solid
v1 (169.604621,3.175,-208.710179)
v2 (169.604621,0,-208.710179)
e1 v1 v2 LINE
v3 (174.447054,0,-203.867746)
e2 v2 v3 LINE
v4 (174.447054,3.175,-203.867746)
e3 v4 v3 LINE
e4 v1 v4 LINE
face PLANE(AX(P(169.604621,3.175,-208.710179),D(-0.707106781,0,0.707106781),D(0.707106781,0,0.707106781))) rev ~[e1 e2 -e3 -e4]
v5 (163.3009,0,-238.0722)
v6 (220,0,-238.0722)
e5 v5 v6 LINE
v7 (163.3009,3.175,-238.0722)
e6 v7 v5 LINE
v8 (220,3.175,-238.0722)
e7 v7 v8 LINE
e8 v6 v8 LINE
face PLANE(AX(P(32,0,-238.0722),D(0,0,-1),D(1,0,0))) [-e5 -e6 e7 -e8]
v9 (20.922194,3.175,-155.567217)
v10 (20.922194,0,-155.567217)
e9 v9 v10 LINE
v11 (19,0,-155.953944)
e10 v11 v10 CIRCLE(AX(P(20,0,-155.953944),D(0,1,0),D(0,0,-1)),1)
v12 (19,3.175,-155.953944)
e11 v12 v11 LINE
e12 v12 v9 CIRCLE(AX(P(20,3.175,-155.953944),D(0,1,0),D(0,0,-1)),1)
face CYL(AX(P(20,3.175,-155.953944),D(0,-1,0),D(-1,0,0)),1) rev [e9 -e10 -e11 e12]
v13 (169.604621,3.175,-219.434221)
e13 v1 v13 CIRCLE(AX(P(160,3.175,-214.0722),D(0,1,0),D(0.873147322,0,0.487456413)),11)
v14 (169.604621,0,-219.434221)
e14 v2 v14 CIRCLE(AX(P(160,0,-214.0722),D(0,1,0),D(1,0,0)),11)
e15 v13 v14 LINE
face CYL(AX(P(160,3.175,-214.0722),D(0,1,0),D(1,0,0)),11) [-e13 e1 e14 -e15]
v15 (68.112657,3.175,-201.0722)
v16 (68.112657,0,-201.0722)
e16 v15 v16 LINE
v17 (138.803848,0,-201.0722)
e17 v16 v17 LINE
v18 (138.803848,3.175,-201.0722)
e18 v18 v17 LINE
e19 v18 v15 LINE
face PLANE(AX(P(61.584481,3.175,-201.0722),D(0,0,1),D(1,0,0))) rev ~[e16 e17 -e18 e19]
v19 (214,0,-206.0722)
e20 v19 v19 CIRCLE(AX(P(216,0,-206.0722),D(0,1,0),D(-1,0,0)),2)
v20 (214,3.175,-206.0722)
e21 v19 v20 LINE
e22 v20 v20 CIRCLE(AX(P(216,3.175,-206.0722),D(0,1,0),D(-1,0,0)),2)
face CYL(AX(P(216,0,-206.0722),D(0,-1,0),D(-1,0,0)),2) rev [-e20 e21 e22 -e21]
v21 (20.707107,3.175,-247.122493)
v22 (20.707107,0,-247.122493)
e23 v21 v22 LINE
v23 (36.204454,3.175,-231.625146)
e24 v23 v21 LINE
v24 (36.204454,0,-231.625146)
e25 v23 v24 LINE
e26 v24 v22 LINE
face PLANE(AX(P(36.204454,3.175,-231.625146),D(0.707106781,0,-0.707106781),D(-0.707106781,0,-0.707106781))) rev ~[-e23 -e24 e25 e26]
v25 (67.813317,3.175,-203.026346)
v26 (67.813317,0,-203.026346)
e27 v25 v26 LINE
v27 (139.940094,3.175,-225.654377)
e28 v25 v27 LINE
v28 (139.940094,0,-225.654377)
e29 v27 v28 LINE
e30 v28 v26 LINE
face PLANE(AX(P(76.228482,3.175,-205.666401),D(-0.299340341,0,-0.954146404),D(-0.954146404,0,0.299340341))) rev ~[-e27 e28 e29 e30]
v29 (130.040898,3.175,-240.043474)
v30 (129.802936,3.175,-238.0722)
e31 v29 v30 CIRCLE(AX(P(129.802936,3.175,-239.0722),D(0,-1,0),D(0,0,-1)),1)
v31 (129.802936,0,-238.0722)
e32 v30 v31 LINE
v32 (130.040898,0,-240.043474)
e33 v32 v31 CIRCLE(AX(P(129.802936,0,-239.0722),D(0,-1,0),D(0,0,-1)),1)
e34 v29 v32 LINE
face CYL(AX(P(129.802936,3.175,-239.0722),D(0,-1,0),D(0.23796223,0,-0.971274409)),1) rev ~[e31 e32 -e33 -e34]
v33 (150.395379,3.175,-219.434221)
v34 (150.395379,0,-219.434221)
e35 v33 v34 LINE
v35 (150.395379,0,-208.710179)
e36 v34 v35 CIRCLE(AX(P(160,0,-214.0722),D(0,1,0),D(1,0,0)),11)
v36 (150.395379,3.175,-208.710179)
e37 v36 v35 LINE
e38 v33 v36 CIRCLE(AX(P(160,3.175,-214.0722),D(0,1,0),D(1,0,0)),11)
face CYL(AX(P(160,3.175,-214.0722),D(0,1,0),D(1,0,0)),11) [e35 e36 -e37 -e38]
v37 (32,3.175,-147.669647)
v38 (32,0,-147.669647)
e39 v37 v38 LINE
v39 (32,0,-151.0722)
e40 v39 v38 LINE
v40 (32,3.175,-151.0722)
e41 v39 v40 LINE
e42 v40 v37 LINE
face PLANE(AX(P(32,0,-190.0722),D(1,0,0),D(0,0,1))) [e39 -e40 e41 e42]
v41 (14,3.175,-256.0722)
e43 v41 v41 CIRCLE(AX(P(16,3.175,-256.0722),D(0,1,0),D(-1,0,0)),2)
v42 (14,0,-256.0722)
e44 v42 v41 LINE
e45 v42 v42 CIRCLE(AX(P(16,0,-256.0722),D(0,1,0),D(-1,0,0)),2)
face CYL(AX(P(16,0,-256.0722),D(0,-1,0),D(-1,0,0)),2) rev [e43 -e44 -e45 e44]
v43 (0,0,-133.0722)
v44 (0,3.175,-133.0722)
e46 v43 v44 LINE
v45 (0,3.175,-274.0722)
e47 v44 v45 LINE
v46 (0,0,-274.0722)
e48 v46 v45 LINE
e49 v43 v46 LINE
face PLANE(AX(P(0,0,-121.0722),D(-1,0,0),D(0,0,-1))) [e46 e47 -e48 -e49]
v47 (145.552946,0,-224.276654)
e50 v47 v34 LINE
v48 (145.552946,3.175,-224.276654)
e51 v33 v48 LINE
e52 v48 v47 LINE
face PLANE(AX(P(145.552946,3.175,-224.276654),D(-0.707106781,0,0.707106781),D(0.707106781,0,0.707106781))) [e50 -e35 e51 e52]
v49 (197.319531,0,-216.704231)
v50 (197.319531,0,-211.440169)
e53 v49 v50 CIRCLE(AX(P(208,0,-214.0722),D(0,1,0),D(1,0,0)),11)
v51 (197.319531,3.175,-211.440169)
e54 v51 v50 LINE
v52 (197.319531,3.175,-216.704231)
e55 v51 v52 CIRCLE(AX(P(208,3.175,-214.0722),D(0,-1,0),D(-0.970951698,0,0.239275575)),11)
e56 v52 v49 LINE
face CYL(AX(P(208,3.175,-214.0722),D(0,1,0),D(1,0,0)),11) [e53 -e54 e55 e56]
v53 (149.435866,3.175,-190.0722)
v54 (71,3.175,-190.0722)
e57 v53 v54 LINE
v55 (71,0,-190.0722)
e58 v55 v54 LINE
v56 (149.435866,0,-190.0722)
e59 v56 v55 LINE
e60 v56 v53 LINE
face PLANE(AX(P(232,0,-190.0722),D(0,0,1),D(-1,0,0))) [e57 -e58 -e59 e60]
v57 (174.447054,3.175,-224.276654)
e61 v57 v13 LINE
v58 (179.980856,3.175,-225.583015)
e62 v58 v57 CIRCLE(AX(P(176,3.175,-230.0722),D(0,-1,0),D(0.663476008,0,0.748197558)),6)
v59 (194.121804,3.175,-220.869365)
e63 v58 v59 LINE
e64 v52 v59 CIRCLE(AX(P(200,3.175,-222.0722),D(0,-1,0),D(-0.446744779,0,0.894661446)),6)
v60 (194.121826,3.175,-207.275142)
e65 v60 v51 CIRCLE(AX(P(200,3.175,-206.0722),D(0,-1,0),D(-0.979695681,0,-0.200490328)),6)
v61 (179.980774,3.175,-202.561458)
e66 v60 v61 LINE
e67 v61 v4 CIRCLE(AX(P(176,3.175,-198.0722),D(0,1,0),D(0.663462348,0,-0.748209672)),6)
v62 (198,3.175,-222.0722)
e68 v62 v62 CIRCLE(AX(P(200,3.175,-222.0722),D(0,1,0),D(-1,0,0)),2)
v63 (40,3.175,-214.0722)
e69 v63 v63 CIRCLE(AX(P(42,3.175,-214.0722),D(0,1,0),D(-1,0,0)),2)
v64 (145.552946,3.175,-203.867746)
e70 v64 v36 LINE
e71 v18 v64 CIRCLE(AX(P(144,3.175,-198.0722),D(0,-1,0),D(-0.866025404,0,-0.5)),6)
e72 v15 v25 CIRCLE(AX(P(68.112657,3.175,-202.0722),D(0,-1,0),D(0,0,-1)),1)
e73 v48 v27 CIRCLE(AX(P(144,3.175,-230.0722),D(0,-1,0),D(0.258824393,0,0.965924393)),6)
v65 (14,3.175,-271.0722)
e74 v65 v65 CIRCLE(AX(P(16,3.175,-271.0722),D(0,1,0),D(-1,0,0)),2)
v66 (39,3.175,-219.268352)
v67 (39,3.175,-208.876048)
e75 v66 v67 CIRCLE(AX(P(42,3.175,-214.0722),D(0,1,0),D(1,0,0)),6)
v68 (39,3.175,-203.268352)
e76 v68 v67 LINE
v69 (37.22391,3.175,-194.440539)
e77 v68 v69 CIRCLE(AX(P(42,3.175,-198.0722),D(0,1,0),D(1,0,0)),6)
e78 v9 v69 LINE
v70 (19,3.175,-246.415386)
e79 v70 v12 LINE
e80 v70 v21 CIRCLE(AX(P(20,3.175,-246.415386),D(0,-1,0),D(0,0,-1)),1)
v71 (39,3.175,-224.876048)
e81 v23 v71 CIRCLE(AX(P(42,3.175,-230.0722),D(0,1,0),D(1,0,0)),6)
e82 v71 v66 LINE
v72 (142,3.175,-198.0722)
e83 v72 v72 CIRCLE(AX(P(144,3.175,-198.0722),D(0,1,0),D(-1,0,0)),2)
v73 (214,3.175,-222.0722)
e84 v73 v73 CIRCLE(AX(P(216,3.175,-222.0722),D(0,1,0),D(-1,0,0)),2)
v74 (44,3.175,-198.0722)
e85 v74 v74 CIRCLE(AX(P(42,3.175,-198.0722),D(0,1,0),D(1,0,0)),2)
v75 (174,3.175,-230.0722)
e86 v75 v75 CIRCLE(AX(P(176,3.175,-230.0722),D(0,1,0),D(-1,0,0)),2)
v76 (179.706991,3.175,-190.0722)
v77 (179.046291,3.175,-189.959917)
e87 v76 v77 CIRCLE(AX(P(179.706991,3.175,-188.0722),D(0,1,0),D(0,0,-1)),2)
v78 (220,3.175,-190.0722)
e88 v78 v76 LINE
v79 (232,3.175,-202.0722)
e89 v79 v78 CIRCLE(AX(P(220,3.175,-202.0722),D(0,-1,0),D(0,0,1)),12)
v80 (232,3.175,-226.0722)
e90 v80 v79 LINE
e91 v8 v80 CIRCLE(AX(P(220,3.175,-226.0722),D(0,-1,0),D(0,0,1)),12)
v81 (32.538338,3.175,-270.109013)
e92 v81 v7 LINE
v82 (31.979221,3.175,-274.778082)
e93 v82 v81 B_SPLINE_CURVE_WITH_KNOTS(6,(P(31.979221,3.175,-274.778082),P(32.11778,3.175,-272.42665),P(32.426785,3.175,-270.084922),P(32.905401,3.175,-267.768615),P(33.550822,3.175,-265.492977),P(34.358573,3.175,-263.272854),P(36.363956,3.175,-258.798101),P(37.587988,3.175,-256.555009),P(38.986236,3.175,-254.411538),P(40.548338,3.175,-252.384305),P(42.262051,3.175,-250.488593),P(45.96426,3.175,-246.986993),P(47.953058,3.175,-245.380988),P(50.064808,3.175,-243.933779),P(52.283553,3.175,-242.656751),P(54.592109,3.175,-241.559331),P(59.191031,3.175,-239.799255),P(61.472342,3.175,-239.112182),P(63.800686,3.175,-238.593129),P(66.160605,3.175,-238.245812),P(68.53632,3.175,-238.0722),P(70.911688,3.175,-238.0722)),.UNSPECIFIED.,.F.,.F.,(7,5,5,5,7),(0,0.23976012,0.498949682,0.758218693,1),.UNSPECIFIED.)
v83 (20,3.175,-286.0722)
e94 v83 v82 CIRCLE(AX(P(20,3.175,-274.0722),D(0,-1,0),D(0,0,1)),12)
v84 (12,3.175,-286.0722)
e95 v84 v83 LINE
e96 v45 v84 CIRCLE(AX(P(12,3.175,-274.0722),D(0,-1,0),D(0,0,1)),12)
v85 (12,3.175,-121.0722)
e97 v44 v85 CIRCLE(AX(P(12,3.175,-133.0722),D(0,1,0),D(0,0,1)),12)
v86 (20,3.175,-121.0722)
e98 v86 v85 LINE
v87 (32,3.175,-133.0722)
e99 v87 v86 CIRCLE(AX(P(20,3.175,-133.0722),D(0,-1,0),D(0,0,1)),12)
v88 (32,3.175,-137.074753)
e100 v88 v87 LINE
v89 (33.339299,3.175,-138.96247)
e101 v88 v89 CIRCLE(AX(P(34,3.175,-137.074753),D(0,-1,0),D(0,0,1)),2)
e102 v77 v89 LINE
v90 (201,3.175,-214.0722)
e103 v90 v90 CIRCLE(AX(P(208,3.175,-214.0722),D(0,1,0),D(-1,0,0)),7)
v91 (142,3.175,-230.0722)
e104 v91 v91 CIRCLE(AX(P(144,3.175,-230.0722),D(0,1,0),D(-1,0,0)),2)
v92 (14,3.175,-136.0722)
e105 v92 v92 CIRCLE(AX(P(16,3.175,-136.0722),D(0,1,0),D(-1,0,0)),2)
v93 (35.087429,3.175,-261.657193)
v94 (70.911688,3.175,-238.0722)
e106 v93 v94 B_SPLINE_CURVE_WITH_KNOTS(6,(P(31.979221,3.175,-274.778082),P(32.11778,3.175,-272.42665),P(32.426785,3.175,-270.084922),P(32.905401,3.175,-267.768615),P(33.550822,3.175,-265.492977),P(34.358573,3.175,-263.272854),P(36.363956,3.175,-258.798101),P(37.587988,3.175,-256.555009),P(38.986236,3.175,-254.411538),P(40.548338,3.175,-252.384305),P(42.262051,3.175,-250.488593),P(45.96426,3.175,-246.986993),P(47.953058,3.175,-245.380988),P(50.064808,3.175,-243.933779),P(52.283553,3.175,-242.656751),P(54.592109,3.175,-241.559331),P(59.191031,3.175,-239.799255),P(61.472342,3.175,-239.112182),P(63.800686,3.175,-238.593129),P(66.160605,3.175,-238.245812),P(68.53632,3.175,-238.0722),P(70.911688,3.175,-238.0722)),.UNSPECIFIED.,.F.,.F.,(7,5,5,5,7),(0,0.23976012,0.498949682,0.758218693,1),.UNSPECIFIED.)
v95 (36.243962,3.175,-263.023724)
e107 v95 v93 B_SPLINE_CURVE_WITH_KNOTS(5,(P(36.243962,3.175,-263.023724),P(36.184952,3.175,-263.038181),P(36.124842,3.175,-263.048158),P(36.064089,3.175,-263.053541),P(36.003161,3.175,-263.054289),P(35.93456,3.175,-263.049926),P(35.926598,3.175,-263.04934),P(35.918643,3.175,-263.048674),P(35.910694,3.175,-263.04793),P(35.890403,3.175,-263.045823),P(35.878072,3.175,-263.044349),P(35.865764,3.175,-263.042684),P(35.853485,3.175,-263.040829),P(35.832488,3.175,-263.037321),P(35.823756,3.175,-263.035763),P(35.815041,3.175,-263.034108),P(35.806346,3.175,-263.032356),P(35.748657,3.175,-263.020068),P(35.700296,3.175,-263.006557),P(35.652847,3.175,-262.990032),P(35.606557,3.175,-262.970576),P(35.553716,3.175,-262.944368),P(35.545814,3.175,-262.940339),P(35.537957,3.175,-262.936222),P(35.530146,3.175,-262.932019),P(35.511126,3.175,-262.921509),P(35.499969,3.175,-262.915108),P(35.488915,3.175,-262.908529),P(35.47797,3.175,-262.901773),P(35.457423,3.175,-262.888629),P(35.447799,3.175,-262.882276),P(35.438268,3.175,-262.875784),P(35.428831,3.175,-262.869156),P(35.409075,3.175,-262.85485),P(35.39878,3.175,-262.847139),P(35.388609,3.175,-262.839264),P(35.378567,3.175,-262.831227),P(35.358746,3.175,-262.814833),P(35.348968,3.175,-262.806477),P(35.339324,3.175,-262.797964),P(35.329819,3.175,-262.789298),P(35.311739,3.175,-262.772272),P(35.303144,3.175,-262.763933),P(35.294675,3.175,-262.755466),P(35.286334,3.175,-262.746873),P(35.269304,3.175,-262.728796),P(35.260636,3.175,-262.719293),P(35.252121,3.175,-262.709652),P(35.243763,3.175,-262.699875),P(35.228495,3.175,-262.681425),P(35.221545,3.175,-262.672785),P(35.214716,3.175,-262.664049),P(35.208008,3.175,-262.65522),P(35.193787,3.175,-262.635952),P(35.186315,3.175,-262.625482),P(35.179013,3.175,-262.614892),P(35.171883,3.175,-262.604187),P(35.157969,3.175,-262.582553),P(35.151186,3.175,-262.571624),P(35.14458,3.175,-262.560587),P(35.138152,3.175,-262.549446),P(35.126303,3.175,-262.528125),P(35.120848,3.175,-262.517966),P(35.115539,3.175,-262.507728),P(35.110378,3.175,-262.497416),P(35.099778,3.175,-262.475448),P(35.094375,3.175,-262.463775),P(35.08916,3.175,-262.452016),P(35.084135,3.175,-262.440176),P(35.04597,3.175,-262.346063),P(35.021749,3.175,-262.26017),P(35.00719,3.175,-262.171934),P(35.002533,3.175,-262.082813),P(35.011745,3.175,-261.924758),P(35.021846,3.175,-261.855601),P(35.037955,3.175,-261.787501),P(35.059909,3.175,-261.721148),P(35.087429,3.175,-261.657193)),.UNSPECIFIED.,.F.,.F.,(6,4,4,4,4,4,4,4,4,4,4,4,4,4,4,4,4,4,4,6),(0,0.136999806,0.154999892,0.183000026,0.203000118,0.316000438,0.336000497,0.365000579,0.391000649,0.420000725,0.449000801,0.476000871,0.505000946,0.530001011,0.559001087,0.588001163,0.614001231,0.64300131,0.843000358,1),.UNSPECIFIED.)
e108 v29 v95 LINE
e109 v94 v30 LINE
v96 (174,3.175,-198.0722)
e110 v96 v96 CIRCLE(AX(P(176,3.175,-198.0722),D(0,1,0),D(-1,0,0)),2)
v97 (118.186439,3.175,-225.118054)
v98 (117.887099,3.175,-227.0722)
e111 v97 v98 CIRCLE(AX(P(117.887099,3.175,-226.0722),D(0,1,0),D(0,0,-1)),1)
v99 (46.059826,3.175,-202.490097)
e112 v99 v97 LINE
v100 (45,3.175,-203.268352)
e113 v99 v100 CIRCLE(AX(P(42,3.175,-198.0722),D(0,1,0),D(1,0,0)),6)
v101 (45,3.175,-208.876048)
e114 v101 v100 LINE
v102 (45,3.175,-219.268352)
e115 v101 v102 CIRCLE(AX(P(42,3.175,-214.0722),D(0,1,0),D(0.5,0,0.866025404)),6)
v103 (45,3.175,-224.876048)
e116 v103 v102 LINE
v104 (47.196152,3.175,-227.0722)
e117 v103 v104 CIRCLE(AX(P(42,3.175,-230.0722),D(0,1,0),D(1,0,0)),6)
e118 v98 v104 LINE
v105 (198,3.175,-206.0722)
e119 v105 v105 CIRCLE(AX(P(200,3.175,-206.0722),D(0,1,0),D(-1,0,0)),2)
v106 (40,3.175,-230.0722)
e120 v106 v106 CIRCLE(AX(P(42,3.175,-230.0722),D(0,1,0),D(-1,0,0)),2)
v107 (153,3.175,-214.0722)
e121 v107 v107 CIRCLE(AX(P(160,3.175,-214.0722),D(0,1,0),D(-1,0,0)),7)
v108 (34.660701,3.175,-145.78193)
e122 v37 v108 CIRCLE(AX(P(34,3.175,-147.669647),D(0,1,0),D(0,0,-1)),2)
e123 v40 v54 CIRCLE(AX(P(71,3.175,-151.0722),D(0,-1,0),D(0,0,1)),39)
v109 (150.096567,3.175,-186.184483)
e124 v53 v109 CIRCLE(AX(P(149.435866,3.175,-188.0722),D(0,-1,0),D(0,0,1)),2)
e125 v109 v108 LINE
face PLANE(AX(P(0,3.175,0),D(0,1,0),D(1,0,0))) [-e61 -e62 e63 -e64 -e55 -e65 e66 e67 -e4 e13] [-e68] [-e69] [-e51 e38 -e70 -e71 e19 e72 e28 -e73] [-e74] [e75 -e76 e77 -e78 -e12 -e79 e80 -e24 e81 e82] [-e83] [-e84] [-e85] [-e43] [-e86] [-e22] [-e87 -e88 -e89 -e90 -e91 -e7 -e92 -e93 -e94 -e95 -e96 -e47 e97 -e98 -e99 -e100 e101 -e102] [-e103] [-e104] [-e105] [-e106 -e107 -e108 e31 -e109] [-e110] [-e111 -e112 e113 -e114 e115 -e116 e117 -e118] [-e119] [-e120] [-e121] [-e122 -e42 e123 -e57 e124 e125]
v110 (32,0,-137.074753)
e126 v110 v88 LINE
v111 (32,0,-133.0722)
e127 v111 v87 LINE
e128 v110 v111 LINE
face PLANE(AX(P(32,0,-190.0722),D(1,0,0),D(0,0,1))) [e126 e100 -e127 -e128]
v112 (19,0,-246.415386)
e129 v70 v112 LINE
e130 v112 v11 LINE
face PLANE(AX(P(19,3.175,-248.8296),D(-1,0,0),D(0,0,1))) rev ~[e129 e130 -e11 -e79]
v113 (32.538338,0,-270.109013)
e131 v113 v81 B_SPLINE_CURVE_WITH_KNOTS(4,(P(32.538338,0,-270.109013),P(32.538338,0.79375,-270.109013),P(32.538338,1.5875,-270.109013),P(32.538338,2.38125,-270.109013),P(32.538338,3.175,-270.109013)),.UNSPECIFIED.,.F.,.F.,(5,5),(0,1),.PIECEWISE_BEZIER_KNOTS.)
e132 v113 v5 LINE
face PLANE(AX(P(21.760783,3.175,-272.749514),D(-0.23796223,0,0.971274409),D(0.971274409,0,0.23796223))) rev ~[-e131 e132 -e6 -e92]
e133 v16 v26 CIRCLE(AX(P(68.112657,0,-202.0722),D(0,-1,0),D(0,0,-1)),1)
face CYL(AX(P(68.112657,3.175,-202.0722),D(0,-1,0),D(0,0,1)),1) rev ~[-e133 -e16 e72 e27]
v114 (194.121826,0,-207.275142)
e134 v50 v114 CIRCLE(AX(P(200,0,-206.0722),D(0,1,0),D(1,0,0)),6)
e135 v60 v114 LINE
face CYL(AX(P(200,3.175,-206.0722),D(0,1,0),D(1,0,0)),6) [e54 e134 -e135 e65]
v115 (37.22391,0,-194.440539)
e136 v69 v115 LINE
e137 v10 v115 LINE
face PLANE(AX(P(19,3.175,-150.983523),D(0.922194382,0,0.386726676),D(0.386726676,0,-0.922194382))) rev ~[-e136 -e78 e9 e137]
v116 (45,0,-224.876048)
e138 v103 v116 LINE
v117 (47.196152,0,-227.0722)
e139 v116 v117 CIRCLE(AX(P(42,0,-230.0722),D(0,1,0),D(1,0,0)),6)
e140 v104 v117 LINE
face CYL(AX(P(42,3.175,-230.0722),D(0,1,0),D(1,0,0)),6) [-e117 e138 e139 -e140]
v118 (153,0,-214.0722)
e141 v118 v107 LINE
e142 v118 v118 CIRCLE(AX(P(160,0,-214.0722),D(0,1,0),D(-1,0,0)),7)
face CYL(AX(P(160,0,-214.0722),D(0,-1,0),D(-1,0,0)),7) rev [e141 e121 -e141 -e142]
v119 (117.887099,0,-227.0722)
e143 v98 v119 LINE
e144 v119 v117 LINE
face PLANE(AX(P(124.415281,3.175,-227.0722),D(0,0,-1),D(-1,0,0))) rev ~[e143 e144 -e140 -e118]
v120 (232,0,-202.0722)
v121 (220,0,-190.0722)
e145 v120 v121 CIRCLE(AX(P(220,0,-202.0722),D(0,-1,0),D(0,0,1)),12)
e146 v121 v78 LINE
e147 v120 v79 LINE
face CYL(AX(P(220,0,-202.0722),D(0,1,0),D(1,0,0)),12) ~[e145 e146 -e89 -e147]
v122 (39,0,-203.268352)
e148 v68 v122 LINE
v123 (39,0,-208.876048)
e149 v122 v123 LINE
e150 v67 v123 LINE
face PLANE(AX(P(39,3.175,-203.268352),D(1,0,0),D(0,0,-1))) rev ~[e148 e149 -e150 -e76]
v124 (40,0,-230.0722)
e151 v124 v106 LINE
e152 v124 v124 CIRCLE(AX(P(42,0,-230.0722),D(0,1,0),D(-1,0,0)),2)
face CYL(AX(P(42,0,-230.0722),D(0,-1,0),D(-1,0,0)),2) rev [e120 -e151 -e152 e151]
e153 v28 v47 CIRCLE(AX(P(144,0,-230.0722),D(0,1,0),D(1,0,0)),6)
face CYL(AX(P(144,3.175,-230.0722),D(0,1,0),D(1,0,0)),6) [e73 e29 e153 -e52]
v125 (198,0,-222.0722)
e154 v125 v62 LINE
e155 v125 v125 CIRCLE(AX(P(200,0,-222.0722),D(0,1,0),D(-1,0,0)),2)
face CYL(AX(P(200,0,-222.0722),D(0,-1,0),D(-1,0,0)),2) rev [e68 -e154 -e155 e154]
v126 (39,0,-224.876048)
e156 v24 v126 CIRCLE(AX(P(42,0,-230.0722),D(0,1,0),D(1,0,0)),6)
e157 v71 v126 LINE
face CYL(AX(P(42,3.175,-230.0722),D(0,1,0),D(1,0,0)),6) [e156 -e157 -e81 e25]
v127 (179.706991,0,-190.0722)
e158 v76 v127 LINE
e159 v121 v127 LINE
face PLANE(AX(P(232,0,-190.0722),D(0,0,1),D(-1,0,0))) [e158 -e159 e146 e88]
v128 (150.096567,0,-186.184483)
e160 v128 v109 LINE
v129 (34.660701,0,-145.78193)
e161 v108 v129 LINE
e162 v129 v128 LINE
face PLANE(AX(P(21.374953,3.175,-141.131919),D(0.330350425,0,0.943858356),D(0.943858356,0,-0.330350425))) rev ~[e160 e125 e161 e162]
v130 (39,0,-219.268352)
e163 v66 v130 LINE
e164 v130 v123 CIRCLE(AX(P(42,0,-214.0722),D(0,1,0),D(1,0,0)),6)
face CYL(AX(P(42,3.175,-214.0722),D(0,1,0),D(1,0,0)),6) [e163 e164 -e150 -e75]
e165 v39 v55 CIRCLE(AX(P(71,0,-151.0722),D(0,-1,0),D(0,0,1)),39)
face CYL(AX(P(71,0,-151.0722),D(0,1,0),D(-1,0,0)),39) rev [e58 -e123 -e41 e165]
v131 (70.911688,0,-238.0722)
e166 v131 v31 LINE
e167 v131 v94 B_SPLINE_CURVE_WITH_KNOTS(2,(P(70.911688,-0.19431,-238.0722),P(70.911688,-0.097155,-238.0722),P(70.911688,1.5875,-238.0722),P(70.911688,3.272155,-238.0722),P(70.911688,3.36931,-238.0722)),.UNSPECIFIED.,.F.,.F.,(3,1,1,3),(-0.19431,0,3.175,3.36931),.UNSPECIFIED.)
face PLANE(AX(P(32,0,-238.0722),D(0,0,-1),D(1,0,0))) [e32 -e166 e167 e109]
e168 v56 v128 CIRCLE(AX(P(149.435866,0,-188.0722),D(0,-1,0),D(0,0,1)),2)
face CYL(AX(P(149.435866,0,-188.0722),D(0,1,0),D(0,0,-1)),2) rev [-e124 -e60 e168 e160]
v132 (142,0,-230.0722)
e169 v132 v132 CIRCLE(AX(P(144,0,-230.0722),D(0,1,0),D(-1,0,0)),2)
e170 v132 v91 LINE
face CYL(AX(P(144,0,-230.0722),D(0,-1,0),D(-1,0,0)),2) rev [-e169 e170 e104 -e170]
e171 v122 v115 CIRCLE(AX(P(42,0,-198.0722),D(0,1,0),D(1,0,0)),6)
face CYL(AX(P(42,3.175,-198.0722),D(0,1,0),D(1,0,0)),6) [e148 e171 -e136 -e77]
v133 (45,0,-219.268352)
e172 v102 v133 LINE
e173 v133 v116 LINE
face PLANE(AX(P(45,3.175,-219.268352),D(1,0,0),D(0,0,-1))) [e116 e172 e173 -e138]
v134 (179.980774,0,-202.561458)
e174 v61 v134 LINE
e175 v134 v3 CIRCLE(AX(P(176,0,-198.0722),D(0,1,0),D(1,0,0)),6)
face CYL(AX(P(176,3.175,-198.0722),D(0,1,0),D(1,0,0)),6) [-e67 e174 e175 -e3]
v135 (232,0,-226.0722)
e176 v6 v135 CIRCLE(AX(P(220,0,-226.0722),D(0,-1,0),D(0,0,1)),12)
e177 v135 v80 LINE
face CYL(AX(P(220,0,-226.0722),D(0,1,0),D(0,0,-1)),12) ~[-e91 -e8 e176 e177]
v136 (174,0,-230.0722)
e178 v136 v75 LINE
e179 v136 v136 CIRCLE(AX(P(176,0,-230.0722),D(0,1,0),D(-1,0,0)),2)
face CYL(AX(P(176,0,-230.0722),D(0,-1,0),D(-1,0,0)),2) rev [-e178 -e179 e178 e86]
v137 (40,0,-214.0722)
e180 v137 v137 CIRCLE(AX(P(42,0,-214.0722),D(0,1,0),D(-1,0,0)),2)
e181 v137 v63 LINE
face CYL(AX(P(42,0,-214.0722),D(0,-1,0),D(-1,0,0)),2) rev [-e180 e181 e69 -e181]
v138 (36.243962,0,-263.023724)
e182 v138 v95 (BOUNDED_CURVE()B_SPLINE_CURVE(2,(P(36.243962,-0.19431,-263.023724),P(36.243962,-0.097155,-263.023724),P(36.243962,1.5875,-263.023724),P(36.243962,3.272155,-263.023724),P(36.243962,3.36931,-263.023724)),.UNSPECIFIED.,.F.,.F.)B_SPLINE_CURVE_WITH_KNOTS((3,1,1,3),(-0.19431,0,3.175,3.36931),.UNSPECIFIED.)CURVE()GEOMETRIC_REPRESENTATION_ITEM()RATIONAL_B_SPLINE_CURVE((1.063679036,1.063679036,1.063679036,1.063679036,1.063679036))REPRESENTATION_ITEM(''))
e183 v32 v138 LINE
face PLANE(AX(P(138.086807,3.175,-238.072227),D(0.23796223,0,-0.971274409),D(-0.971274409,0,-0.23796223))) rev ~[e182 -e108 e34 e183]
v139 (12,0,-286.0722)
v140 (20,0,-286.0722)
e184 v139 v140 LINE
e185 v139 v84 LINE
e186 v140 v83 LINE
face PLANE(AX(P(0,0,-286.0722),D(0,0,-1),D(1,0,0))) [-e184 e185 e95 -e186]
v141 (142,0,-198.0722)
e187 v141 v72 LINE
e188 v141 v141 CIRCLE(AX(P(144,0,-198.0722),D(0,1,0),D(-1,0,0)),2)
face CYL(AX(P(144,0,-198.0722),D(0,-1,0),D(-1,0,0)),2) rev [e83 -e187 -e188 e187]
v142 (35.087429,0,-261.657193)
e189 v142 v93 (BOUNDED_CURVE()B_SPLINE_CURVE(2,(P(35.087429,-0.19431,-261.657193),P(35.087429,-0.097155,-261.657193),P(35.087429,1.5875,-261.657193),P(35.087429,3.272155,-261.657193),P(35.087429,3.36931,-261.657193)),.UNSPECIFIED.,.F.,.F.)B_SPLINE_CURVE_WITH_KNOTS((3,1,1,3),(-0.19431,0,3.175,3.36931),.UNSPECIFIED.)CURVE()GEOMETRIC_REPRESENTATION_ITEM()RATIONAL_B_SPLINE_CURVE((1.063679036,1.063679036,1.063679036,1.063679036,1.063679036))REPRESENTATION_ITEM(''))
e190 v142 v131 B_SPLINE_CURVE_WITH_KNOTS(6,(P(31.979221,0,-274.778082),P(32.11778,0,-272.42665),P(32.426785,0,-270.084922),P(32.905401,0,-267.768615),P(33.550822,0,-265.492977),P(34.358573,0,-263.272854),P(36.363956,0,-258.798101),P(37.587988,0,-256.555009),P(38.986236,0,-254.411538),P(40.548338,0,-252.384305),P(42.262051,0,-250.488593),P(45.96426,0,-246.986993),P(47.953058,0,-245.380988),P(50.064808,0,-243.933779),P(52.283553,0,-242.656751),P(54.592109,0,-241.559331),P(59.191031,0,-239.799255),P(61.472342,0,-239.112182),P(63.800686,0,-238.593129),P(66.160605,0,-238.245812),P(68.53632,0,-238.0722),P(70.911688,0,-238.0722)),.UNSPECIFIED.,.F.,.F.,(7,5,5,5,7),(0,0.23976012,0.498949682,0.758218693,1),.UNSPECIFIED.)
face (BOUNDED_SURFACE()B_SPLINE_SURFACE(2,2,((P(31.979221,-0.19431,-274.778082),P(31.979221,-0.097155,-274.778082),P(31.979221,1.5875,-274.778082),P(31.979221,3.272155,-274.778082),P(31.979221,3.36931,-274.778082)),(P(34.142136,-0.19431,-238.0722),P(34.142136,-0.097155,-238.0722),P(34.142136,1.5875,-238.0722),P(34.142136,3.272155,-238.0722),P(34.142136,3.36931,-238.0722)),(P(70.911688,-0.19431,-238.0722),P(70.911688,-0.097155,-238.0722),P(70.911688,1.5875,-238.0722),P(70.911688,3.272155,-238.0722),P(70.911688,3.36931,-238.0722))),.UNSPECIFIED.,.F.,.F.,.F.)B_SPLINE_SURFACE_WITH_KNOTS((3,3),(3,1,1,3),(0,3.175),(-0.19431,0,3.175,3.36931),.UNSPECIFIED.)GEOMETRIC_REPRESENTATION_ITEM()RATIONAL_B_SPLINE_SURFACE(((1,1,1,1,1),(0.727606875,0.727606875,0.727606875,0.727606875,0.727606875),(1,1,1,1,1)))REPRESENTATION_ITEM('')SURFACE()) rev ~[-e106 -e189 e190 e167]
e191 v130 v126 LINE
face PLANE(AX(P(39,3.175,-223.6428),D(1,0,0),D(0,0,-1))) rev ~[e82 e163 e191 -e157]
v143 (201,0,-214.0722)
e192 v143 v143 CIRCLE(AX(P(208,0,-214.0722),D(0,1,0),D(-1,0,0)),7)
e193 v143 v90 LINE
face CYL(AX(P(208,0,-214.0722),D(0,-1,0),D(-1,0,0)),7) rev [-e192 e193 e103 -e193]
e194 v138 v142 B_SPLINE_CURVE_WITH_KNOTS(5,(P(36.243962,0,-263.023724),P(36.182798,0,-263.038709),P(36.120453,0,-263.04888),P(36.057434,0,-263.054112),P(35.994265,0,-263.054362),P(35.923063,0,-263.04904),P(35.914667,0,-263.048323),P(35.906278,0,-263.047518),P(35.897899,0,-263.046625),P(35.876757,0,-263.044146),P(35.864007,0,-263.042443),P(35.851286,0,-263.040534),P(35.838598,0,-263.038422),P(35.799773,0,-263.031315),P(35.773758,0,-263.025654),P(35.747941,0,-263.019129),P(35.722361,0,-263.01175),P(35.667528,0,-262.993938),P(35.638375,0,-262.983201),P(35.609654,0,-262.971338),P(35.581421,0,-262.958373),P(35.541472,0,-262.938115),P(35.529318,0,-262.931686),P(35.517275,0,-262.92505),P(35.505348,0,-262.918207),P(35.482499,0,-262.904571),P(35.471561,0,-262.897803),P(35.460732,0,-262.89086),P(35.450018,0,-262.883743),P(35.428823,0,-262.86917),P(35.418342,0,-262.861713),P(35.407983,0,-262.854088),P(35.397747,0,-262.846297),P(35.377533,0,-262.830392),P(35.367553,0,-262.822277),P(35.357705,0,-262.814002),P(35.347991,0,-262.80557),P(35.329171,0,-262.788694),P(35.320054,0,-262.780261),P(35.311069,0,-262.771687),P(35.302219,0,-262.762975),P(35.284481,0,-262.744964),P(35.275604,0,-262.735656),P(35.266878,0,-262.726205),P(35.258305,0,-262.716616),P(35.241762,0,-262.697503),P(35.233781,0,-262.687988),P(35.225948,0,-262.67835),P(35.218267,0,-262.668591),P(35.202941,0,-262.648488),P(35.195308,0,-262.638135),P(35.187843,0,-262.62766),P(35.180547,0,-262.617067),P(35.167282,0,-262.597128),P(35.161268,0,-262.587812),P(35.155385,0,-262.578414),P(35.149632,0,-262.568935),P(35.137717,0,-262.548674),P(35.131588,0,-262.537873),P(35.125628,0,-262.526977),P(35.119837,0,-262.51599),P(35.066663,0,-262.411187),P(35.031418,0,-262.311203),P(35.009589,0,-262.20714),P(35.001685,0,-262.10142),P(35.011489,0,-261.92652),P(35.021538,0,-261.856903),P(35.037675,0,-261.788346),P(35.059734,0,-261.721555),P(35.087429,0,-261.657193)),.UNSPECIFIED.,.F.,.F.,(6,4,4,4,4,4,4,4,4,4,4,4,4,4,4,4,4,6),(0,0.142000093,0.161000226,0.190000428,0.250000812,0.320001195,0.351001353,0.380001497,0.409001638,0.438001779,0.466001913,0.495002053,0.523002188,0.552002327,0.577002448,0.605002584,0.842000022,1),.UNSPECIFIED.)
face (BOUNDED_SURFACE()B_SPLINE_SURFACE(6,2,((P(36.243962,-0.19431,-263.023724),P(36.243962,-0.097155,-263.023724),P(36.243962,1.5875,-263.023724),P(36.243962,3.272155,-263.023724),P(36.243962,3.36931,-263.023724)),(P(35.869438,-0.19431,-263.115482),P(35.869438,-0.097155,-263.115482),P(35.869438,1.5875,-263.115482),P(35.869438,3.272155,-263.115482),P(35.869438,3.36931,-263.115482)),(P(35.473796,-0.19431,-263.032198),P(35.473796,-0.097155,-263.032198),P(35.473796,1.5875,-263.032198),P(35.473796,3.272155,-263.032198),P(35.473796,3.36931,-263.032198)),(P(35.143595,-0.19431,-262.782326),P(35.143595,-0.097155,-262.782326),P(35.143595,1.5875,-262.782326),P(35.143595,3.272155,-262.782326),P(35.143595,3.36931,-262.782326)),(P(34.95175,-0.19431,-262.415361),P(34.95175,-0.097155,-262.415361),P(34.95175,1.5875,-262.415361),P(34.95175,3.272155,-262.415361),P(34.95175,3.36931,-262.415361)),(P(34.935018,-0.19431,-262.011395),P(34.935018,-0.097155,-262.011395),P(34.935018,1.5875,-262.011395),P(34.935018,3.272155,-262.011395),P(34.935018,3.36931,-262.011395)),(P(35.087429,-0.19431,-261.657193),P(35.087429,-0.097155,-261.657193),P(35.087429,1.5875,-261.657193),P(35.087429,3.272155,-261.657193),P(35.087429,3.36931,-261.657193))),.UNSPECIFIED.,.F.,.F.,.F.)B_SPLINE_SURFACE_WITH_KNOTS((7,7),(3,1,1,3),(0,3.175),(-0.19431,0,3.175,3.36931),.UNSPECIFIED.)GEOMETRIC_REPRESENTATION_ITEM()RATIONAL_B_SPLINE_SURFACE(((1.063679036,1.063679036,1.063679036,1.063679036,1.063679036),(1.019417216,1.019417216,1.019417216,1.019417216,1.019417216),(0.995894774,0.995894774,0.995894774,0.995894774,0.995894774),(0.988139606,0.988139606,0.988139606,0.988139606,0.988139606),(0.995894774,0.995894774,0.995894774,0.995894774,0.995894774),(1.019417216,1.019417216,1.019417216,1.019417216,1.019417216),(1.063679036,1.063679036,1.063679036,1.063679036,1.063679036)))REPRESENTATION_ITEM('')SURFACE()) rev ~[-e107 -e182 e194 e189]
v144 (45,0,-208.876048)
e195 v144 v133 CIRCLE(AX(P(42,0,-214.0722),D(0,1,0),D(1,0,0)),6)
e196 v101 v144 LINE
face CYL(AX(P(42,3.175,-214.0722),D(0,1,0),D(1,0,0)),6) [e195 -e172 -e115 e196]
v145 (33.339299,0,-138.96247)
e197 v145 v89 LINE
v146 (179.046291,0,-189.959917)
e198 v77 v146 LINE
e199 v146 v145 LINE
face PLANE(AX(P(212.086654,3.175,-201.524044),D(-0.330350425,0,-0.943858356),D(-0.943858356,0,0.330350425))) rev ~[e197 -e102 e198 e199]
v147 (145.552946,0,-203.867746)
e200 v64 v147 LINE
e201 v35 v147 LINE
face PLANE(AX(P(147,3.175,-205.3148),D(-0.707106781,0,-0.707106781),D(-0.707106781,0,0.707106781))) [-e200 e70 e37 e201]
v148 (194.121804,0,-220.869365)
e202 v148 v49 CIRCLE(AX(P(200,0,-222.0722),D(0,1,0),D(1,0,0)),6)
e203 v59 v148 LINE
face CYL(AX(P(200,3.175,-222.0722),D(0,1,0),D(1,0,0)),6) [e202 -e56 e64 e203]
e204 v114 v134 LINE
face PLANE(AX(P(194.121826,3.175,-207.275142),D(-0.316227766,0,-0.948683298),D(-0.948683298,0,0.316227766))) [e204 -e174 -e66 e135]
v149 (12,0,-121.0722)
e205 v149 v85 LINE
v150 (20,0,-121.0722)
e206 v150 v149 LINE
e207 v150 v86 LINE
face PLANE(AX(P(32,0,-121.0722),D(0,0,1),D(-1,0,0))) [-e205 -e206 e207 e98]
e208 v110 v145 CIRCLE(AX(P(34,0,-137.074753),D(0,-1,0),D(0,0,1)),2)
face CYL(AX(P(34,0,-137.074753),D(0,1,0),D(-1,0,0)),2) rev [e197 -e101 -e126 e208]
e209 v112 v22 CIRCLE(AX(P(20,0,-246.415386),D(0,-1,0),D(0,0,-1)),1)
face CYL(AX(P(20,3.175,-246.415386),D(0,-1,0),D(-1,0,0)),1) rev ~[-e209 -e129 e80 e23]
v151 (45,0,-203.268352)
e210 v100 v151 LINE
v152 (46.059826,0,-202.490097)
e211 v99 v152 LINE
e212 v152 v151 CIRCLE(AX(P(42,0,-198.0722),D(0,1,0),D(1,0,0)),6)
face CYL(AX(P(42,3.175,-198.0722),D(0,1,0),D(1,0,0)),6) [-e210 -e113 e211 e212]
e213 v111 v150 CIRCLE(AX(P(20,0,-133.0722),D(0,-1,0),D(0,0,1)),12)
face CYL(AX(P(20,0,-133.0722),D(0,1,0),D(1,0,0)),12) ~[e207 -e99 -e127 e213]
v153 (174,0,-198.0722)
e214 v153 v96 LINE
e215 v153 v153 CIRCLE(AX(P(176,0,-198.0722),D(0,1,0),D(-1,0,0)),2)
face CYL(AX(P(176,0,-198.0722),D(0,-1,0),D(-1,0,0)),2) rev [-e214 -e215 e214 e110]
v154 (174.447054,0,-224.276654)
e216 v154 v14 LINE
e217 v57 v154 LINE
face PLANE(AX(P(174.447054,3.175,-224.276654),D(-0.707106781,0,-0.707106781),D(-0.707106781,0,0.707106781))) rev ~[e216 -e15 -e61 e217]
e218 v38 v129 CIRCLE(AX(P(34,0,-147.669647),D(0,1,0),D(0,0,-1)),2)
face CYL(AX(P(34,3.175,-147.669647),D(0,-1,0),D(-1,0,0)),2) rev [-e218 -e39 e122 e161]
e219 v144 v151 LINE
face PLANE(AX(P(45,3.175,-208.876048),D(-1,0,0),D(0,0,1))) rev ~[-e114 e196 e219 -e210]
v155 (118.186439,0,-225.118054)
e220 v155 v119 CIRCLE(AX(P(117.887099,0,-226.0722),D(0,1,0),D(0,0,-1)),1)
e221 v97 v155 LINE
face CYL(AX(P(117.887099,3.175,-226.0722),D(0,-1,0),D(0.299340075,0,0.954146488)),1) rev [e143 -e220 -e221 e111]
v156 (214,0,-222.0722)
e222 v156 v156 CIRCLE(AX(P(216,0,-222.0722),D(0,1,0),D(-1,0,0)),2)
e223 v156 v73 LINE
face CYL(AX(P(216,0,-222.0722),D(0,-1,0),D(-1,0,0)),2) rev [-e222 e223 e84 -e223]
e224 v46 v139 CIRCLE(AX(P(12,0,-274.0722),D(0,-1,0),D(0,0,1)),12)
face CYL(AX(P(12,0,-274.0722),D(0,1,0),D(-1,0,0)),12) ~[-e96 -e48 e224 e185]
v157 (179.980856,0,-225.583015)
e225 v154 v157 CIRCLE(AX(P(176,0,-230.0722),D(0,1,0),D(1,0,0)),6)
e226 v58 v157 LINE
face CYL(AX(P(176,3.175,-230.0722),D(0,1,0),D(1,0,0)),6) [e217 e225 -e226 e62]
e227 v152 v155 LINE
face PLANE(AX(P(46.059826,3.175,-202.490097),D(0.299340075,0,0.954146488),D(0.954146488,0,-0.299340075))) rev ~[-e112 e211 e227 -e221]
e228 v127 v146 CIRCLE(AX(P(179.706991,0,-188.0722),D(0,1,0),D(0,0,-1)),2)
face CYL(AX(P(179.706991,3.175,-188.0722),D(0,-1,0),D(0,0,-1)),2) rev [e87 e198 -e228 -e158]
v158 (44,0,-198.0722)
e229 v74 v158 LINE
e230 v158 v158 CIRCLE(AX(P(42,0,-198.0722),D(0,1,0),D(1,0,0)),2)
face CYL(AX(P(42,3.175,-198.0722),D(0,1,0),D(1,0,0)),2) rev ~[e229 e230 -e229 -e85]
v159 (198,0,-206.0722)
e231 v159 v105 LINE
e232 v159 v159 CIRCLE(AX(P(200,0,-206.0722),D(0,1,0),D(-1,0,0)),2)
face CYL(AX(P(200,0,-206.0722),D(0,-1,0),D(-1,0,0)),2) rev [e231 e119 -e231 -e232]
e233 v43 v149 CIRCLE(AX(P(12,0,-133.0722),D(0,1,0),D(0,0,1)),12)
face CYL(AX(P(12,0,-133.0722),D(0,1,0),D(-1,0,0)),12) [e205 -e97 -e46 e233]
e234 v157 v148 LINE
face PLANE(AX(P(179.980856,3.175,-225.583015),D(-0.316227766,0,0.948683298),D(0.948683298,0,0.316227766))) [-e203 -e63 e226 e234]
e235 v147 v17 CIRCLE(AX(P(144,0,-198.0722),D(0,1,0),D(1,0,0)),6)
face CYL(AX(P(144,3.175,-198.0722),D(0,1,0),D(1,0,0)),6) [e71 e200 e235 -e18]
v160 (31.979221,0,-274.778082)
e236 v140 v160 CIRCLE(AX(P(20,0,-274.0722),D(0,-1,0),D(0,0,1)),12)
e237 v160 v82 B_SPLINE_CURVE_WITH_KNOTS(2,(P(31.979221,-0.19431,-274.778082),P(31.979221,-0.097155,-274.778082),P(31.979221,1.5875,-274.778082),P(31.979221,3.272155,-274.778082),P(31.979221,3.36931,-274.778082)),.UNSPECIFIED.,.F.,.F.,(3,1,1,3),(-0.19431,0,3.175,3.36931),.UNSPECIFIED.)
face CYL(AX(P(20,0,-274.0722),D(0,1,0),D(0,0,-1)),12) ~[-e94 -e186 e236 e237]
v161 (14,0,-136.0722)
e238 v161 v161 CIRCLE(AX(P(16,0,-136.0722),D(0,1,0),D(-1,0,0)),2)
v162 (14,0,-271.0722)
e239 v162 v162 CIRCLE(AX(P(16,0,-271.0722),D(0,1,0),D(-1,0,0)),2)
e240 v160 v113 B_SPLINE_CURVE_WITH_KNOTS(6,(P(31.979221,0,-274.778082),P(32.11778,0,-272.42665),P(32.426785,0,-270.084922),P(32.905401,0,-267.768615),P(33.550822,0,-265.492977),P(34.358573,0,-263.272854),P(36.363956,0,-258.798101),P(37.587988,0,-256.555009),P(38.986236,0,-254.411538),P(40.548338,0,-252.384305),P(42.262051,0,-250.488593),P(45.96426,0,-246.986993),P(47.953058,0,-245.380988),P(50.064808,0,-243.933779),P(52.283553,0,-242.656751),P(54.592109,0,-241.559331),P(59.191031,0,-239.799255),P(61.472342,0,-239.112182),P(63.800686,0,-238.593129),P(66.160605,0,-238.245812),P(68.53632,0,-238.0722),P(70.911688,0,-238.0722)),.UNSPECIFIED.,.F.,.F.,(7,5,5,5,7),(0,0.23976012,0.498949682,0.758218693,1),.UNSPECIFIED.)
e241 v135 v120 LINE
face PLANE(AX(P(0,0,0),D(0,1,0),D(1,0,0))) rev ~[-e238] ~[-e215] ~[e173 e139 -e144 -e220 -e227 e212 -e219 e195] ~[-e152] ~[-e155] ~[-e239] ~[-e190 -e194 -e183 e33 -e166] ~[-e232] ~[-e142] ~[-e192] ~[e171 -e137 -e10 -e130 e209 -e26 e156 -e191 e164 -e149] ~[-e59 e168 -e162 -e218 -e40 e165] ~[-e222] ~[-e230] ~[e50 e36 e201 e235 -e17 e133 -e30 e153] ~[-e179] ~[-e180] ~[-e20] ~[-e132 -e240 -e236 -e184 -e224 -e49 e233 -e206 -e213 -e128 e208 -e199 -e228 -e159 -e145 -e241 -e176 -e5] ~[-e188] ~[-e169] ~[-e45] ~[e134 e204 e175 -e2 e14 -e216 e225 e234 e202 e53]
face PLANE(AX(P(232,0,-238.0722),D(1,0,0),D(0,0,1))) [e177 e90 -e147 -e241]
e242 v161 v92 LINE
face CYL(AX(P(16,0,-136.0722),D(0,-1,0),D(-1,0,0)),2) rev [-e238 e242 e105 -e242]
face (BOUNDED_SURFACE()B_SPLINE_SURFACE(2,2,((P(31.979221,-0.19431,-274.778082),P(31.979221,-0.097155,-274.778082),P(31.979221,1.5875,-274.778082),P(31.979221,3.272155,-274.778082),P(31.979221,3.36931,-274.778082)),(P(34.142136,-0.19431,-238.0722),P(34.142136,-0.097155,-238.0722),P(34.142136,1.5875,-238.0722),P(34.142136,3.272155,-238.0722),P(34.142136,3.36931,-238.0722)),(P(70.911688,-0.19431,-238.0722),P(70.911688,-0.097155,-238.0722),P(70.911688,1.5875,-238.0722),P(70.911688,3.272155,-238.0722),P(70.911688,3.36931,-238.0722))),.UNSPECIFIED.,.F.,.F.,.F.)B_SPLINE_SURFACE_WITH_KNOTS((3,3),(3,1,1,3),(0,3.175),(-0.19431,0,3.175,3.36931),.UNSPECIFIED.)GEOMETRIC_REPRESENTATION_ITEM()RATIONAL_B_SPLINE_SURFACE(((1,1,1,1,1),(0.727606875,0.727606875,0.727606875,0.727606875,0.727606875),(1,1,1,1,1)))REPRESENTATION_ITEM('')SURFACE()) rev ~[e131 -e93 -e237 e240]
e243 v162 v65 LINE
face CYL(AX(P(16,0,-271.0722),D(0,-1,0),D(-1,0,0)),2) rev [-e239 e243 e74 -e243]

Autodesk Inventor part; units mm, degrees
ref_plane "YZ Plane" through (0, 0, 0) normal (1, 0, 0) x (0, 1, 0)
ref_plane "XZ Plane" through (0, 0, 0) normal (0, 1, 0) x (-1, 0, 0)
ref_plane "XY Plane" through (0, 0, 0) normal (0, 0, 1) x (1, 0, 0)
sketch "Sketch1" plane through (0, 0, 0) normal (0, 1, 0) x (-1, 0, 0)
  line L0 (0, 0) -> (0, -286.0722)
  line L1 (0, -286.0722) -> (-32, -286.0722)
  line L2 (-32, -286.0722) -> (-32, -238.0722)
  line L3 (-32, -238.0722) -> (-232, -238.0722)
  line L4 (-232, -238.0722) -> (-232, -190.0722)
  line L5 (-232, -190.0722) -> (-32, -190.0722)
  circle A0 centre (-16, -271.0722) radius 2
  circle A1 centre (-16, -256.0722) radius 2
  circle A2 centre (-16, -136.0722) radius 2
  circle A3 centre (-208, -214.0722) radius 7
  circle A4 centre (-160, -214.0722) radius 7
  circle A5 centre (-42, -230.0722) radius 2
  circle A6 centre (-144, -230.0722) radius 2
  circle A7 centre (-144, -198.0722) radius 2
  circle A8 centre (-176, -198.0722) radius 2
  circle A9 centre (-176, -230.0722) radius 2
  circle A10 centre (-200, -222.0722) radius 2
  circle A11 centre (-216, -222.0722) radius 2
  circle A12 centre (-216, -206.0722) radius 2
  circle A13 centre (-200, -206.0722) radius 2
  circle A14 centre (-42, -214.0722) radius 2
  line L6 (-32, -121.0722) -> (0, -121.0722)
  line L7 (-32, -190.0722) -> (-32, -121.0722)
  point P0 (-32, 0)
  point P1 (-16, -286.0722)
  point P2 (-232, -214.0722)
  dimension "d1" = 32
  dimension "d2" = 48
  dimension "d3" = 48
  dimension "d4" = 4
  dimension "d5" = 4
  dimension "d6" = 4
  dimension "d9" = 150
  dimension "d10" = 15
  dimension "d11" = 30
  dimension "d14" = 216
  dimension "d15" = 14
  dimension "d16" = 14
  dimension "d17" = 24
  dimension "d18" = 48
  dimension "d21" = 4
  dimension "d22" = 8
  dimension "d23" = 42
  dimension "d24" = 4
  dimension "d25" = 4
  dimension "d26" = 4
  dimension "d27" = 4
  dimension "d28" = 32
  dimension "d29" = 32
  dimension "d30" = 16
  dimension "d31" = 16
  dimension "d32" = 4
  dimension "d33" = 4
  dimension "d34" = 4
  dimension "d35" = 4
  dimension "d36" = 16
  dimension "d37" = 16
  dimension "d38" = 8
  dimension "d39" = 8
  dimension "d55" = 4
  dimension "d56" = 16
  dimension "d64" = 15
  dimension "d65" = 69
extrude "Extrusion1" add sketch "Sketch1" along normal blind 3.175
fillet "Fillet1" radius 12 6 edges at (232, 1.5875, -190.0722) (232, 1.5875, -238.0722) (32, 1.5875, -286.0722) (0, 1.5875, -286.0722) (32, 1.5875, -121.0722) (0, 1.5875, -121.0722)
fillet "Fillet2" radius 39 2 edges at (32, 1.5875, -190.0722) (32, 1.5875, -238.0722)
sketch "Sketch2" plane through (0, 3.175, 0) normal (0, 1, 0) x (1, 0, 0)
  circle A0 centre (16, 271.0722) radius 2 construction
  circle A1 centre (16, 271.0722) radius 3 construction
  circle A2 centre (16, 256.0722) radius 3 construction
  circle A3 centre (16, 256.0722) radius 2 construction
  circle A4 centre (42, 230.0722) radius 2 construction
  arc A5 (39.8787, 227.9509) -> (39.1086, 230.872) centre (42, 230.0722) ccw construction
  circle A6 centre (16, 136.0722) radius 2 construction
  circle A7 centre (16, 136.0722) radius 3 construction
  circle A8 centre (144, 230.0722) radius 2 construction
  circle A9 centre (144, 230.0722) radius 3 construction
  circle A10 centre (176, 230.0722) radius 2 construction
  circle A11 centre (176, 230.0722) radius 3 construction
  circle A12 centre (176, 198.0722) radius 2 construction
  circle A13 centre (176, 198.0722) radius 3 construction
  circle A14 centre (144, 198.0722) radius 2 construction
  circle A15 centre (144, 198.0722) radius 3 construction
  circle A16 centre (216, 222.0722) radius 2 construction
  circle A17 centre (216, 222.0722) radius 3 construction
  circle A18 centre (216, 206.0722) radius 2 construction
  circle A19 centre (216, 206.0722) radius 3 construction
  circle A20 centre (200, 206.0722) radius 2 construction
  circle A21 centre (200, 206.0722) radius 3 construction
  circle A22 centre (16, 136.0722) radius 2 construction
  circle A23 centre (176, 230.0722) radius 2 construction
  circle A24 centre (200, 222.0722) radius 3 construction
  circle A25 centre (200, 222.0722) radius 2 construction
  circle A26 centre (200, 206.0722) radius 2 construction
  circle A27 centre (216, 206.0722) radius 2 construction
  circle A28 centre (216, 222.0722) radius 2 construction
  line L0 (13, 136.0722) -> (13, 256.0722)
  line L1 (44.1213, 232.1935) -> (18.1213, 258.1935)
  line L2 (19, 256.0722) -> (19, 135.5292)
  line L3 (39.8787, 227.9509) -> (13.8787, 253.9509)
  circle A29 centre (16, 256.0722) radius 6
  circle A30 centre (42, 230.0722) radius 6
  circle A31 centre (16, 136.0722) radius 6
  circle A32 centre (42, 214.0722) radius 3 construction
  circle A33 centre (42, 214.0722) radius 2 construction
  circle A34 centre (42, 214.0722) radius 6
  line L4 (39, 214.0722) -> (39, 228.8296)
  line L5 (45, 213.5854) -> (45, 230.0722)
  line L6 (39.6062, 233.0722) -> (144, 233.0722)
  line L7 (147, 230.0722) -> (147, 198.0722)
  line L8 (141, 230.0722) -> (141, 198.0722)
  line L9 (144, 227.0722) -> (42, 227.0722)
  line L10 (143.5351, 195.1085) -> (41.5351, 211.1085)
  line L11 (42.4649, 217.036) -> (144.4649, 201.036)
  circle A35 centre (144, 230.0722) radius 6
  circle A36 centre (144, 198.0722) radius 6
  circle A37 centre (42, 198.0722) radius 2
  circle A38 centre (42, 198.0722) radius 3 construction
  circle A39 centre (42, 198.0722) radius 6
  line L12 (42, 201.0722) -> (144.2339, 201.0722)
  line L13 (42, 195.0722) -> (144, 195.0722)
  line L14 (45, 223.4471) -> (45, 216.6383)
  line L15 (45, 214.0722) -> (45, 198.0722)
  line L16 (39, 198.0722) -> (39, 223.6428)
  line L17 (13.2334, 137.2324) -> (39.2334, 199.2324)
  line L18 (18.7666, 134.912) -> (44.7666, 196.912)
  circle A40 centre (176, 230.0722) radius 6
  circle A41 centre (176, 198.0722) radius 2 projected
  circle A42 centre (176, 198.0722) radius 6
  circle A43 centre (200, 206.0722) radius 6
  circle A44 centre (200, 222.0722) radius 6
  circle A45 centre (216, 222.0722) radius 6
  circle A46 centre (216, 206.0722) radius 6
  line L19 (175.0513, 227.2262) -> (199.0513, 219.2262)
  line L20 (197, 222.0722) -> (197, 206.0722)
  line L21 (199.0513, 208.9183) -> (175.0513, 200.9183)
  line L22 (179, 230.0722) -> (179, 198.0722)
  circle A47 centre (3, 196.0722) radius 3 construction
  line L23 (0, 274.0722) -> (0, 133.0722) construction
  circle A48 centre (160, 214.0722) radius 3 construction
  circle A49 centre (160, 214.0722) radius 7 construction
  line L24 (157.8787, 216.1935) -> (141.8787, 200.1935)
  line L25 (141.8787, 227.9509) -> (157.8787, 211.9509)
  circle A50 centre (160, 214.0722) radius 11
  circle A51 centre (208, 214.0722) radius 3 construction
  circle A52 centre (208, 214.0722) radius 7 construction
  line L26 (197.8787, 219.9509) -> (205.8787, 211.9509)
  line L27 (205.8787, 216.1935) -> (197.8787, 208.1935)
  circle A53 centre (208, 214.0722) radius 11
  line L28 (41.102, 200.9347) -> (143.102, 232.9347)
  line L29 (155.4834, 230.5307) -> (160.4569, 232.091)
  line L30 (144.898, 227.2098) -> (42.4595, 195.0722)
  line L31 (15.0089, 138.9038) -> (215.0089, 208.9038)
  line L32 (216.9911, 203.2406) -> (16.9911, 133.2406)
  line L33 (16.7139, 273.986) -> (216.7139, 224.986)
  line L34 (215.2861, 219.1584) -> (15.2861, 268.1584)
  circle A54 centre (16, 271.0722) radius 6
  line L35 (178.1213, 227.9509) -> (162.1213, 211.9509)
  line L36 (162.1213, 216.1935) -> (178.1213, 200.1935)
  line L37 (220, 238.0722) -> (70.9117, 238.0722) projected
  line L38 (163.3009, 238.0722) -> (138.0868, 238.0722)
  point P0 (0, 0)
  point P1 (19, 248.8296)
  point P2 (36.2044, 231.6251)
  point P3 (39, 219.2684)
  point P4 (39, 224.8761)
  point P5 (141, 224.8761)
  point P6 (138.8038, 227.0722)
  point P7 (47.1962, 227.0722)
  point P8 (45, 224.8761)
  point P9 (45, 219.2684)
  point P10 (47.5983, 216.2307)
  point P11 (141, 201.5795)
  point P12 (45, 210.5649)
  point P13 (45, 203.2684)
  point P14 (47.1962, 201.0722)
  point P15 (105.5161, 201.0722)
  point P16 (45, 208.8761)
  point P17 (46.6685, 210.3032)
  point P18 (139.3315, 201.8412)
  point P19 (141, 203.2684)
  point P20 (19, 150.9835)
  point P21 (37.2239, 194.4405)
  point P22 (39, 203.2684)
  point P23 (39, 208.8761)
  point P24 (179, 224.8761)
  point P25 (179, 203.2684)
  point P26 (179.9808, 202.5614)
  point P27 (194.1218, 207.2751)
  point P28 (197, 211.2684)
  point P29 (197, 216.8761)
  point P30 (194.1218, 220.8693)
  point P31 (179.9808, 225.583)
  point P32 (0, 12)
  point P33 (13, 196.0722)
  point P34 (150.3954, 208.7102)
  point P35 (150.3954, 219.4342)
  point P36 (145.5529, 224.2767)
  point P37 (145.5529, 203.8678)
  point P38 (0, 121.0722)
  point P39 (197, 214.0722)
  point P40 (197.3195, 216.7042)
  point P41 (197.3195, 211.4402)
  point P42 (168.1087, 206.6392)
  point P43 (168.1087, 221.5052)
  point P44 (45, 201.0722)
  point P45 (45, 216.6383)
  point P46 (45, 227.0722)
  point P47 (141, 227.0722)
  point P48 (179, 225.9099)
  point P49 (179, 202.2345)
  point P50 (197, 208.2345)
  point P51 (197, 219.9099)
  point P52 (205.368, 224.7527)
  point P53 (205.368, 203.3917)
  point P54 (138.8038, 201.0722)
  point P55 (46.0599, 202.4901)
  point P56 (124.4155, 227.0722)
  point P57 (139.9401, 225.6544)
  point P58 (61.5845, 201.0722)
  point P59 (21.8955, 134.9572)
  point P60 (212.0866, 201.5241)
  point P61 (210.632, 203.3917)
  point P62 (195.5189, 202.0823)
  point P63 (21.3749, 141.1319)
  point P64 (20.7761, 139.7039)
  point P65 (21.7608, 272.7495)
  point P66 (20.333, 266.9219)
  point P67 (170.0027, 230.2528)
  point P68 (181.4016, 227.4601)
  point P69 (194.4175, 224.2712)
  point P70 (210.632, 224.7527)
  point P71 (211.667, 226.2225)
  point P72 (180.6925, 233.8113)
  point P73 (201.0952, 222.6352)
  point P74 (205.9668, 221.4416)
  point P75 (210.2392, 220.3949)
  point P76 (173.5673, 235.5569)
  point P77 (218.6805, 216.7042)
  point P78 (169.6046, 208.7102)
  point P79 (174.4471, 203.8678)
  point P80 (174.4471, 224.2767)
  point P81 (169.6046, 219.4342)
  dimension "d48" = 6
  dimension "d52" = 12
  dimension "d53" = 12
  dimension "d54" = 12
  dimension "d59" = 4
  dimension "d60" = 16
  dimension "d63" = 22
  dimension "d66" = 22
extrude "Extrusion3" add sketch "Sketch2" against normal blind 3.175 contours A31 L18 L31 A42 A43 A53 A46 L32 | L31 A42
fillet "Fillet13" radius 2 4 edges at (161.2044, 1.5875, -190.0722) (32, 1.5875, -144.8507) (32, 1.5875, -138.4938) (179.367, 1.5875, -190.0722)
extrude "Extrusion4" cut sketch "Sketch2" against normal through all contours L2 L3 A30 L4 A34 L16 A39 L17 | L15 A34 L10 L28 A39 | A30 L9 L28 L11 A34 L5 | L36 A50 L35 A40 L22 A42 | L21 A42 L22 A40 L19 A44 L20 A43 | L10 A34 L11 L28 | L30 L10 L12 | L20 A53 A43 | L24 L7 L25 A50 | L30 L11 A36 L12 L10 | L20 A44 A53 | L7 L24 A36 L8 A35 L25 | A35 L8 A36 L11 L30 | A37
extrude "Extrusion5" add sketch "Sketch2" against normal blind 3.175 contours L34 A54 L33 L37
fillet "Fillet14" radius 1 6 edges at (34.3544, 1.5875, -263.4866) (138.0868, 1.5875, -238.0722) (124.4155, 1.5875, -227.0722) (61.5845, 1.5875, -201.0722) (19, 1.5875, -248.8296) (19, 1.5875, -150.9835)
properties part number "slidesthing" material "Aluminum 6061"
